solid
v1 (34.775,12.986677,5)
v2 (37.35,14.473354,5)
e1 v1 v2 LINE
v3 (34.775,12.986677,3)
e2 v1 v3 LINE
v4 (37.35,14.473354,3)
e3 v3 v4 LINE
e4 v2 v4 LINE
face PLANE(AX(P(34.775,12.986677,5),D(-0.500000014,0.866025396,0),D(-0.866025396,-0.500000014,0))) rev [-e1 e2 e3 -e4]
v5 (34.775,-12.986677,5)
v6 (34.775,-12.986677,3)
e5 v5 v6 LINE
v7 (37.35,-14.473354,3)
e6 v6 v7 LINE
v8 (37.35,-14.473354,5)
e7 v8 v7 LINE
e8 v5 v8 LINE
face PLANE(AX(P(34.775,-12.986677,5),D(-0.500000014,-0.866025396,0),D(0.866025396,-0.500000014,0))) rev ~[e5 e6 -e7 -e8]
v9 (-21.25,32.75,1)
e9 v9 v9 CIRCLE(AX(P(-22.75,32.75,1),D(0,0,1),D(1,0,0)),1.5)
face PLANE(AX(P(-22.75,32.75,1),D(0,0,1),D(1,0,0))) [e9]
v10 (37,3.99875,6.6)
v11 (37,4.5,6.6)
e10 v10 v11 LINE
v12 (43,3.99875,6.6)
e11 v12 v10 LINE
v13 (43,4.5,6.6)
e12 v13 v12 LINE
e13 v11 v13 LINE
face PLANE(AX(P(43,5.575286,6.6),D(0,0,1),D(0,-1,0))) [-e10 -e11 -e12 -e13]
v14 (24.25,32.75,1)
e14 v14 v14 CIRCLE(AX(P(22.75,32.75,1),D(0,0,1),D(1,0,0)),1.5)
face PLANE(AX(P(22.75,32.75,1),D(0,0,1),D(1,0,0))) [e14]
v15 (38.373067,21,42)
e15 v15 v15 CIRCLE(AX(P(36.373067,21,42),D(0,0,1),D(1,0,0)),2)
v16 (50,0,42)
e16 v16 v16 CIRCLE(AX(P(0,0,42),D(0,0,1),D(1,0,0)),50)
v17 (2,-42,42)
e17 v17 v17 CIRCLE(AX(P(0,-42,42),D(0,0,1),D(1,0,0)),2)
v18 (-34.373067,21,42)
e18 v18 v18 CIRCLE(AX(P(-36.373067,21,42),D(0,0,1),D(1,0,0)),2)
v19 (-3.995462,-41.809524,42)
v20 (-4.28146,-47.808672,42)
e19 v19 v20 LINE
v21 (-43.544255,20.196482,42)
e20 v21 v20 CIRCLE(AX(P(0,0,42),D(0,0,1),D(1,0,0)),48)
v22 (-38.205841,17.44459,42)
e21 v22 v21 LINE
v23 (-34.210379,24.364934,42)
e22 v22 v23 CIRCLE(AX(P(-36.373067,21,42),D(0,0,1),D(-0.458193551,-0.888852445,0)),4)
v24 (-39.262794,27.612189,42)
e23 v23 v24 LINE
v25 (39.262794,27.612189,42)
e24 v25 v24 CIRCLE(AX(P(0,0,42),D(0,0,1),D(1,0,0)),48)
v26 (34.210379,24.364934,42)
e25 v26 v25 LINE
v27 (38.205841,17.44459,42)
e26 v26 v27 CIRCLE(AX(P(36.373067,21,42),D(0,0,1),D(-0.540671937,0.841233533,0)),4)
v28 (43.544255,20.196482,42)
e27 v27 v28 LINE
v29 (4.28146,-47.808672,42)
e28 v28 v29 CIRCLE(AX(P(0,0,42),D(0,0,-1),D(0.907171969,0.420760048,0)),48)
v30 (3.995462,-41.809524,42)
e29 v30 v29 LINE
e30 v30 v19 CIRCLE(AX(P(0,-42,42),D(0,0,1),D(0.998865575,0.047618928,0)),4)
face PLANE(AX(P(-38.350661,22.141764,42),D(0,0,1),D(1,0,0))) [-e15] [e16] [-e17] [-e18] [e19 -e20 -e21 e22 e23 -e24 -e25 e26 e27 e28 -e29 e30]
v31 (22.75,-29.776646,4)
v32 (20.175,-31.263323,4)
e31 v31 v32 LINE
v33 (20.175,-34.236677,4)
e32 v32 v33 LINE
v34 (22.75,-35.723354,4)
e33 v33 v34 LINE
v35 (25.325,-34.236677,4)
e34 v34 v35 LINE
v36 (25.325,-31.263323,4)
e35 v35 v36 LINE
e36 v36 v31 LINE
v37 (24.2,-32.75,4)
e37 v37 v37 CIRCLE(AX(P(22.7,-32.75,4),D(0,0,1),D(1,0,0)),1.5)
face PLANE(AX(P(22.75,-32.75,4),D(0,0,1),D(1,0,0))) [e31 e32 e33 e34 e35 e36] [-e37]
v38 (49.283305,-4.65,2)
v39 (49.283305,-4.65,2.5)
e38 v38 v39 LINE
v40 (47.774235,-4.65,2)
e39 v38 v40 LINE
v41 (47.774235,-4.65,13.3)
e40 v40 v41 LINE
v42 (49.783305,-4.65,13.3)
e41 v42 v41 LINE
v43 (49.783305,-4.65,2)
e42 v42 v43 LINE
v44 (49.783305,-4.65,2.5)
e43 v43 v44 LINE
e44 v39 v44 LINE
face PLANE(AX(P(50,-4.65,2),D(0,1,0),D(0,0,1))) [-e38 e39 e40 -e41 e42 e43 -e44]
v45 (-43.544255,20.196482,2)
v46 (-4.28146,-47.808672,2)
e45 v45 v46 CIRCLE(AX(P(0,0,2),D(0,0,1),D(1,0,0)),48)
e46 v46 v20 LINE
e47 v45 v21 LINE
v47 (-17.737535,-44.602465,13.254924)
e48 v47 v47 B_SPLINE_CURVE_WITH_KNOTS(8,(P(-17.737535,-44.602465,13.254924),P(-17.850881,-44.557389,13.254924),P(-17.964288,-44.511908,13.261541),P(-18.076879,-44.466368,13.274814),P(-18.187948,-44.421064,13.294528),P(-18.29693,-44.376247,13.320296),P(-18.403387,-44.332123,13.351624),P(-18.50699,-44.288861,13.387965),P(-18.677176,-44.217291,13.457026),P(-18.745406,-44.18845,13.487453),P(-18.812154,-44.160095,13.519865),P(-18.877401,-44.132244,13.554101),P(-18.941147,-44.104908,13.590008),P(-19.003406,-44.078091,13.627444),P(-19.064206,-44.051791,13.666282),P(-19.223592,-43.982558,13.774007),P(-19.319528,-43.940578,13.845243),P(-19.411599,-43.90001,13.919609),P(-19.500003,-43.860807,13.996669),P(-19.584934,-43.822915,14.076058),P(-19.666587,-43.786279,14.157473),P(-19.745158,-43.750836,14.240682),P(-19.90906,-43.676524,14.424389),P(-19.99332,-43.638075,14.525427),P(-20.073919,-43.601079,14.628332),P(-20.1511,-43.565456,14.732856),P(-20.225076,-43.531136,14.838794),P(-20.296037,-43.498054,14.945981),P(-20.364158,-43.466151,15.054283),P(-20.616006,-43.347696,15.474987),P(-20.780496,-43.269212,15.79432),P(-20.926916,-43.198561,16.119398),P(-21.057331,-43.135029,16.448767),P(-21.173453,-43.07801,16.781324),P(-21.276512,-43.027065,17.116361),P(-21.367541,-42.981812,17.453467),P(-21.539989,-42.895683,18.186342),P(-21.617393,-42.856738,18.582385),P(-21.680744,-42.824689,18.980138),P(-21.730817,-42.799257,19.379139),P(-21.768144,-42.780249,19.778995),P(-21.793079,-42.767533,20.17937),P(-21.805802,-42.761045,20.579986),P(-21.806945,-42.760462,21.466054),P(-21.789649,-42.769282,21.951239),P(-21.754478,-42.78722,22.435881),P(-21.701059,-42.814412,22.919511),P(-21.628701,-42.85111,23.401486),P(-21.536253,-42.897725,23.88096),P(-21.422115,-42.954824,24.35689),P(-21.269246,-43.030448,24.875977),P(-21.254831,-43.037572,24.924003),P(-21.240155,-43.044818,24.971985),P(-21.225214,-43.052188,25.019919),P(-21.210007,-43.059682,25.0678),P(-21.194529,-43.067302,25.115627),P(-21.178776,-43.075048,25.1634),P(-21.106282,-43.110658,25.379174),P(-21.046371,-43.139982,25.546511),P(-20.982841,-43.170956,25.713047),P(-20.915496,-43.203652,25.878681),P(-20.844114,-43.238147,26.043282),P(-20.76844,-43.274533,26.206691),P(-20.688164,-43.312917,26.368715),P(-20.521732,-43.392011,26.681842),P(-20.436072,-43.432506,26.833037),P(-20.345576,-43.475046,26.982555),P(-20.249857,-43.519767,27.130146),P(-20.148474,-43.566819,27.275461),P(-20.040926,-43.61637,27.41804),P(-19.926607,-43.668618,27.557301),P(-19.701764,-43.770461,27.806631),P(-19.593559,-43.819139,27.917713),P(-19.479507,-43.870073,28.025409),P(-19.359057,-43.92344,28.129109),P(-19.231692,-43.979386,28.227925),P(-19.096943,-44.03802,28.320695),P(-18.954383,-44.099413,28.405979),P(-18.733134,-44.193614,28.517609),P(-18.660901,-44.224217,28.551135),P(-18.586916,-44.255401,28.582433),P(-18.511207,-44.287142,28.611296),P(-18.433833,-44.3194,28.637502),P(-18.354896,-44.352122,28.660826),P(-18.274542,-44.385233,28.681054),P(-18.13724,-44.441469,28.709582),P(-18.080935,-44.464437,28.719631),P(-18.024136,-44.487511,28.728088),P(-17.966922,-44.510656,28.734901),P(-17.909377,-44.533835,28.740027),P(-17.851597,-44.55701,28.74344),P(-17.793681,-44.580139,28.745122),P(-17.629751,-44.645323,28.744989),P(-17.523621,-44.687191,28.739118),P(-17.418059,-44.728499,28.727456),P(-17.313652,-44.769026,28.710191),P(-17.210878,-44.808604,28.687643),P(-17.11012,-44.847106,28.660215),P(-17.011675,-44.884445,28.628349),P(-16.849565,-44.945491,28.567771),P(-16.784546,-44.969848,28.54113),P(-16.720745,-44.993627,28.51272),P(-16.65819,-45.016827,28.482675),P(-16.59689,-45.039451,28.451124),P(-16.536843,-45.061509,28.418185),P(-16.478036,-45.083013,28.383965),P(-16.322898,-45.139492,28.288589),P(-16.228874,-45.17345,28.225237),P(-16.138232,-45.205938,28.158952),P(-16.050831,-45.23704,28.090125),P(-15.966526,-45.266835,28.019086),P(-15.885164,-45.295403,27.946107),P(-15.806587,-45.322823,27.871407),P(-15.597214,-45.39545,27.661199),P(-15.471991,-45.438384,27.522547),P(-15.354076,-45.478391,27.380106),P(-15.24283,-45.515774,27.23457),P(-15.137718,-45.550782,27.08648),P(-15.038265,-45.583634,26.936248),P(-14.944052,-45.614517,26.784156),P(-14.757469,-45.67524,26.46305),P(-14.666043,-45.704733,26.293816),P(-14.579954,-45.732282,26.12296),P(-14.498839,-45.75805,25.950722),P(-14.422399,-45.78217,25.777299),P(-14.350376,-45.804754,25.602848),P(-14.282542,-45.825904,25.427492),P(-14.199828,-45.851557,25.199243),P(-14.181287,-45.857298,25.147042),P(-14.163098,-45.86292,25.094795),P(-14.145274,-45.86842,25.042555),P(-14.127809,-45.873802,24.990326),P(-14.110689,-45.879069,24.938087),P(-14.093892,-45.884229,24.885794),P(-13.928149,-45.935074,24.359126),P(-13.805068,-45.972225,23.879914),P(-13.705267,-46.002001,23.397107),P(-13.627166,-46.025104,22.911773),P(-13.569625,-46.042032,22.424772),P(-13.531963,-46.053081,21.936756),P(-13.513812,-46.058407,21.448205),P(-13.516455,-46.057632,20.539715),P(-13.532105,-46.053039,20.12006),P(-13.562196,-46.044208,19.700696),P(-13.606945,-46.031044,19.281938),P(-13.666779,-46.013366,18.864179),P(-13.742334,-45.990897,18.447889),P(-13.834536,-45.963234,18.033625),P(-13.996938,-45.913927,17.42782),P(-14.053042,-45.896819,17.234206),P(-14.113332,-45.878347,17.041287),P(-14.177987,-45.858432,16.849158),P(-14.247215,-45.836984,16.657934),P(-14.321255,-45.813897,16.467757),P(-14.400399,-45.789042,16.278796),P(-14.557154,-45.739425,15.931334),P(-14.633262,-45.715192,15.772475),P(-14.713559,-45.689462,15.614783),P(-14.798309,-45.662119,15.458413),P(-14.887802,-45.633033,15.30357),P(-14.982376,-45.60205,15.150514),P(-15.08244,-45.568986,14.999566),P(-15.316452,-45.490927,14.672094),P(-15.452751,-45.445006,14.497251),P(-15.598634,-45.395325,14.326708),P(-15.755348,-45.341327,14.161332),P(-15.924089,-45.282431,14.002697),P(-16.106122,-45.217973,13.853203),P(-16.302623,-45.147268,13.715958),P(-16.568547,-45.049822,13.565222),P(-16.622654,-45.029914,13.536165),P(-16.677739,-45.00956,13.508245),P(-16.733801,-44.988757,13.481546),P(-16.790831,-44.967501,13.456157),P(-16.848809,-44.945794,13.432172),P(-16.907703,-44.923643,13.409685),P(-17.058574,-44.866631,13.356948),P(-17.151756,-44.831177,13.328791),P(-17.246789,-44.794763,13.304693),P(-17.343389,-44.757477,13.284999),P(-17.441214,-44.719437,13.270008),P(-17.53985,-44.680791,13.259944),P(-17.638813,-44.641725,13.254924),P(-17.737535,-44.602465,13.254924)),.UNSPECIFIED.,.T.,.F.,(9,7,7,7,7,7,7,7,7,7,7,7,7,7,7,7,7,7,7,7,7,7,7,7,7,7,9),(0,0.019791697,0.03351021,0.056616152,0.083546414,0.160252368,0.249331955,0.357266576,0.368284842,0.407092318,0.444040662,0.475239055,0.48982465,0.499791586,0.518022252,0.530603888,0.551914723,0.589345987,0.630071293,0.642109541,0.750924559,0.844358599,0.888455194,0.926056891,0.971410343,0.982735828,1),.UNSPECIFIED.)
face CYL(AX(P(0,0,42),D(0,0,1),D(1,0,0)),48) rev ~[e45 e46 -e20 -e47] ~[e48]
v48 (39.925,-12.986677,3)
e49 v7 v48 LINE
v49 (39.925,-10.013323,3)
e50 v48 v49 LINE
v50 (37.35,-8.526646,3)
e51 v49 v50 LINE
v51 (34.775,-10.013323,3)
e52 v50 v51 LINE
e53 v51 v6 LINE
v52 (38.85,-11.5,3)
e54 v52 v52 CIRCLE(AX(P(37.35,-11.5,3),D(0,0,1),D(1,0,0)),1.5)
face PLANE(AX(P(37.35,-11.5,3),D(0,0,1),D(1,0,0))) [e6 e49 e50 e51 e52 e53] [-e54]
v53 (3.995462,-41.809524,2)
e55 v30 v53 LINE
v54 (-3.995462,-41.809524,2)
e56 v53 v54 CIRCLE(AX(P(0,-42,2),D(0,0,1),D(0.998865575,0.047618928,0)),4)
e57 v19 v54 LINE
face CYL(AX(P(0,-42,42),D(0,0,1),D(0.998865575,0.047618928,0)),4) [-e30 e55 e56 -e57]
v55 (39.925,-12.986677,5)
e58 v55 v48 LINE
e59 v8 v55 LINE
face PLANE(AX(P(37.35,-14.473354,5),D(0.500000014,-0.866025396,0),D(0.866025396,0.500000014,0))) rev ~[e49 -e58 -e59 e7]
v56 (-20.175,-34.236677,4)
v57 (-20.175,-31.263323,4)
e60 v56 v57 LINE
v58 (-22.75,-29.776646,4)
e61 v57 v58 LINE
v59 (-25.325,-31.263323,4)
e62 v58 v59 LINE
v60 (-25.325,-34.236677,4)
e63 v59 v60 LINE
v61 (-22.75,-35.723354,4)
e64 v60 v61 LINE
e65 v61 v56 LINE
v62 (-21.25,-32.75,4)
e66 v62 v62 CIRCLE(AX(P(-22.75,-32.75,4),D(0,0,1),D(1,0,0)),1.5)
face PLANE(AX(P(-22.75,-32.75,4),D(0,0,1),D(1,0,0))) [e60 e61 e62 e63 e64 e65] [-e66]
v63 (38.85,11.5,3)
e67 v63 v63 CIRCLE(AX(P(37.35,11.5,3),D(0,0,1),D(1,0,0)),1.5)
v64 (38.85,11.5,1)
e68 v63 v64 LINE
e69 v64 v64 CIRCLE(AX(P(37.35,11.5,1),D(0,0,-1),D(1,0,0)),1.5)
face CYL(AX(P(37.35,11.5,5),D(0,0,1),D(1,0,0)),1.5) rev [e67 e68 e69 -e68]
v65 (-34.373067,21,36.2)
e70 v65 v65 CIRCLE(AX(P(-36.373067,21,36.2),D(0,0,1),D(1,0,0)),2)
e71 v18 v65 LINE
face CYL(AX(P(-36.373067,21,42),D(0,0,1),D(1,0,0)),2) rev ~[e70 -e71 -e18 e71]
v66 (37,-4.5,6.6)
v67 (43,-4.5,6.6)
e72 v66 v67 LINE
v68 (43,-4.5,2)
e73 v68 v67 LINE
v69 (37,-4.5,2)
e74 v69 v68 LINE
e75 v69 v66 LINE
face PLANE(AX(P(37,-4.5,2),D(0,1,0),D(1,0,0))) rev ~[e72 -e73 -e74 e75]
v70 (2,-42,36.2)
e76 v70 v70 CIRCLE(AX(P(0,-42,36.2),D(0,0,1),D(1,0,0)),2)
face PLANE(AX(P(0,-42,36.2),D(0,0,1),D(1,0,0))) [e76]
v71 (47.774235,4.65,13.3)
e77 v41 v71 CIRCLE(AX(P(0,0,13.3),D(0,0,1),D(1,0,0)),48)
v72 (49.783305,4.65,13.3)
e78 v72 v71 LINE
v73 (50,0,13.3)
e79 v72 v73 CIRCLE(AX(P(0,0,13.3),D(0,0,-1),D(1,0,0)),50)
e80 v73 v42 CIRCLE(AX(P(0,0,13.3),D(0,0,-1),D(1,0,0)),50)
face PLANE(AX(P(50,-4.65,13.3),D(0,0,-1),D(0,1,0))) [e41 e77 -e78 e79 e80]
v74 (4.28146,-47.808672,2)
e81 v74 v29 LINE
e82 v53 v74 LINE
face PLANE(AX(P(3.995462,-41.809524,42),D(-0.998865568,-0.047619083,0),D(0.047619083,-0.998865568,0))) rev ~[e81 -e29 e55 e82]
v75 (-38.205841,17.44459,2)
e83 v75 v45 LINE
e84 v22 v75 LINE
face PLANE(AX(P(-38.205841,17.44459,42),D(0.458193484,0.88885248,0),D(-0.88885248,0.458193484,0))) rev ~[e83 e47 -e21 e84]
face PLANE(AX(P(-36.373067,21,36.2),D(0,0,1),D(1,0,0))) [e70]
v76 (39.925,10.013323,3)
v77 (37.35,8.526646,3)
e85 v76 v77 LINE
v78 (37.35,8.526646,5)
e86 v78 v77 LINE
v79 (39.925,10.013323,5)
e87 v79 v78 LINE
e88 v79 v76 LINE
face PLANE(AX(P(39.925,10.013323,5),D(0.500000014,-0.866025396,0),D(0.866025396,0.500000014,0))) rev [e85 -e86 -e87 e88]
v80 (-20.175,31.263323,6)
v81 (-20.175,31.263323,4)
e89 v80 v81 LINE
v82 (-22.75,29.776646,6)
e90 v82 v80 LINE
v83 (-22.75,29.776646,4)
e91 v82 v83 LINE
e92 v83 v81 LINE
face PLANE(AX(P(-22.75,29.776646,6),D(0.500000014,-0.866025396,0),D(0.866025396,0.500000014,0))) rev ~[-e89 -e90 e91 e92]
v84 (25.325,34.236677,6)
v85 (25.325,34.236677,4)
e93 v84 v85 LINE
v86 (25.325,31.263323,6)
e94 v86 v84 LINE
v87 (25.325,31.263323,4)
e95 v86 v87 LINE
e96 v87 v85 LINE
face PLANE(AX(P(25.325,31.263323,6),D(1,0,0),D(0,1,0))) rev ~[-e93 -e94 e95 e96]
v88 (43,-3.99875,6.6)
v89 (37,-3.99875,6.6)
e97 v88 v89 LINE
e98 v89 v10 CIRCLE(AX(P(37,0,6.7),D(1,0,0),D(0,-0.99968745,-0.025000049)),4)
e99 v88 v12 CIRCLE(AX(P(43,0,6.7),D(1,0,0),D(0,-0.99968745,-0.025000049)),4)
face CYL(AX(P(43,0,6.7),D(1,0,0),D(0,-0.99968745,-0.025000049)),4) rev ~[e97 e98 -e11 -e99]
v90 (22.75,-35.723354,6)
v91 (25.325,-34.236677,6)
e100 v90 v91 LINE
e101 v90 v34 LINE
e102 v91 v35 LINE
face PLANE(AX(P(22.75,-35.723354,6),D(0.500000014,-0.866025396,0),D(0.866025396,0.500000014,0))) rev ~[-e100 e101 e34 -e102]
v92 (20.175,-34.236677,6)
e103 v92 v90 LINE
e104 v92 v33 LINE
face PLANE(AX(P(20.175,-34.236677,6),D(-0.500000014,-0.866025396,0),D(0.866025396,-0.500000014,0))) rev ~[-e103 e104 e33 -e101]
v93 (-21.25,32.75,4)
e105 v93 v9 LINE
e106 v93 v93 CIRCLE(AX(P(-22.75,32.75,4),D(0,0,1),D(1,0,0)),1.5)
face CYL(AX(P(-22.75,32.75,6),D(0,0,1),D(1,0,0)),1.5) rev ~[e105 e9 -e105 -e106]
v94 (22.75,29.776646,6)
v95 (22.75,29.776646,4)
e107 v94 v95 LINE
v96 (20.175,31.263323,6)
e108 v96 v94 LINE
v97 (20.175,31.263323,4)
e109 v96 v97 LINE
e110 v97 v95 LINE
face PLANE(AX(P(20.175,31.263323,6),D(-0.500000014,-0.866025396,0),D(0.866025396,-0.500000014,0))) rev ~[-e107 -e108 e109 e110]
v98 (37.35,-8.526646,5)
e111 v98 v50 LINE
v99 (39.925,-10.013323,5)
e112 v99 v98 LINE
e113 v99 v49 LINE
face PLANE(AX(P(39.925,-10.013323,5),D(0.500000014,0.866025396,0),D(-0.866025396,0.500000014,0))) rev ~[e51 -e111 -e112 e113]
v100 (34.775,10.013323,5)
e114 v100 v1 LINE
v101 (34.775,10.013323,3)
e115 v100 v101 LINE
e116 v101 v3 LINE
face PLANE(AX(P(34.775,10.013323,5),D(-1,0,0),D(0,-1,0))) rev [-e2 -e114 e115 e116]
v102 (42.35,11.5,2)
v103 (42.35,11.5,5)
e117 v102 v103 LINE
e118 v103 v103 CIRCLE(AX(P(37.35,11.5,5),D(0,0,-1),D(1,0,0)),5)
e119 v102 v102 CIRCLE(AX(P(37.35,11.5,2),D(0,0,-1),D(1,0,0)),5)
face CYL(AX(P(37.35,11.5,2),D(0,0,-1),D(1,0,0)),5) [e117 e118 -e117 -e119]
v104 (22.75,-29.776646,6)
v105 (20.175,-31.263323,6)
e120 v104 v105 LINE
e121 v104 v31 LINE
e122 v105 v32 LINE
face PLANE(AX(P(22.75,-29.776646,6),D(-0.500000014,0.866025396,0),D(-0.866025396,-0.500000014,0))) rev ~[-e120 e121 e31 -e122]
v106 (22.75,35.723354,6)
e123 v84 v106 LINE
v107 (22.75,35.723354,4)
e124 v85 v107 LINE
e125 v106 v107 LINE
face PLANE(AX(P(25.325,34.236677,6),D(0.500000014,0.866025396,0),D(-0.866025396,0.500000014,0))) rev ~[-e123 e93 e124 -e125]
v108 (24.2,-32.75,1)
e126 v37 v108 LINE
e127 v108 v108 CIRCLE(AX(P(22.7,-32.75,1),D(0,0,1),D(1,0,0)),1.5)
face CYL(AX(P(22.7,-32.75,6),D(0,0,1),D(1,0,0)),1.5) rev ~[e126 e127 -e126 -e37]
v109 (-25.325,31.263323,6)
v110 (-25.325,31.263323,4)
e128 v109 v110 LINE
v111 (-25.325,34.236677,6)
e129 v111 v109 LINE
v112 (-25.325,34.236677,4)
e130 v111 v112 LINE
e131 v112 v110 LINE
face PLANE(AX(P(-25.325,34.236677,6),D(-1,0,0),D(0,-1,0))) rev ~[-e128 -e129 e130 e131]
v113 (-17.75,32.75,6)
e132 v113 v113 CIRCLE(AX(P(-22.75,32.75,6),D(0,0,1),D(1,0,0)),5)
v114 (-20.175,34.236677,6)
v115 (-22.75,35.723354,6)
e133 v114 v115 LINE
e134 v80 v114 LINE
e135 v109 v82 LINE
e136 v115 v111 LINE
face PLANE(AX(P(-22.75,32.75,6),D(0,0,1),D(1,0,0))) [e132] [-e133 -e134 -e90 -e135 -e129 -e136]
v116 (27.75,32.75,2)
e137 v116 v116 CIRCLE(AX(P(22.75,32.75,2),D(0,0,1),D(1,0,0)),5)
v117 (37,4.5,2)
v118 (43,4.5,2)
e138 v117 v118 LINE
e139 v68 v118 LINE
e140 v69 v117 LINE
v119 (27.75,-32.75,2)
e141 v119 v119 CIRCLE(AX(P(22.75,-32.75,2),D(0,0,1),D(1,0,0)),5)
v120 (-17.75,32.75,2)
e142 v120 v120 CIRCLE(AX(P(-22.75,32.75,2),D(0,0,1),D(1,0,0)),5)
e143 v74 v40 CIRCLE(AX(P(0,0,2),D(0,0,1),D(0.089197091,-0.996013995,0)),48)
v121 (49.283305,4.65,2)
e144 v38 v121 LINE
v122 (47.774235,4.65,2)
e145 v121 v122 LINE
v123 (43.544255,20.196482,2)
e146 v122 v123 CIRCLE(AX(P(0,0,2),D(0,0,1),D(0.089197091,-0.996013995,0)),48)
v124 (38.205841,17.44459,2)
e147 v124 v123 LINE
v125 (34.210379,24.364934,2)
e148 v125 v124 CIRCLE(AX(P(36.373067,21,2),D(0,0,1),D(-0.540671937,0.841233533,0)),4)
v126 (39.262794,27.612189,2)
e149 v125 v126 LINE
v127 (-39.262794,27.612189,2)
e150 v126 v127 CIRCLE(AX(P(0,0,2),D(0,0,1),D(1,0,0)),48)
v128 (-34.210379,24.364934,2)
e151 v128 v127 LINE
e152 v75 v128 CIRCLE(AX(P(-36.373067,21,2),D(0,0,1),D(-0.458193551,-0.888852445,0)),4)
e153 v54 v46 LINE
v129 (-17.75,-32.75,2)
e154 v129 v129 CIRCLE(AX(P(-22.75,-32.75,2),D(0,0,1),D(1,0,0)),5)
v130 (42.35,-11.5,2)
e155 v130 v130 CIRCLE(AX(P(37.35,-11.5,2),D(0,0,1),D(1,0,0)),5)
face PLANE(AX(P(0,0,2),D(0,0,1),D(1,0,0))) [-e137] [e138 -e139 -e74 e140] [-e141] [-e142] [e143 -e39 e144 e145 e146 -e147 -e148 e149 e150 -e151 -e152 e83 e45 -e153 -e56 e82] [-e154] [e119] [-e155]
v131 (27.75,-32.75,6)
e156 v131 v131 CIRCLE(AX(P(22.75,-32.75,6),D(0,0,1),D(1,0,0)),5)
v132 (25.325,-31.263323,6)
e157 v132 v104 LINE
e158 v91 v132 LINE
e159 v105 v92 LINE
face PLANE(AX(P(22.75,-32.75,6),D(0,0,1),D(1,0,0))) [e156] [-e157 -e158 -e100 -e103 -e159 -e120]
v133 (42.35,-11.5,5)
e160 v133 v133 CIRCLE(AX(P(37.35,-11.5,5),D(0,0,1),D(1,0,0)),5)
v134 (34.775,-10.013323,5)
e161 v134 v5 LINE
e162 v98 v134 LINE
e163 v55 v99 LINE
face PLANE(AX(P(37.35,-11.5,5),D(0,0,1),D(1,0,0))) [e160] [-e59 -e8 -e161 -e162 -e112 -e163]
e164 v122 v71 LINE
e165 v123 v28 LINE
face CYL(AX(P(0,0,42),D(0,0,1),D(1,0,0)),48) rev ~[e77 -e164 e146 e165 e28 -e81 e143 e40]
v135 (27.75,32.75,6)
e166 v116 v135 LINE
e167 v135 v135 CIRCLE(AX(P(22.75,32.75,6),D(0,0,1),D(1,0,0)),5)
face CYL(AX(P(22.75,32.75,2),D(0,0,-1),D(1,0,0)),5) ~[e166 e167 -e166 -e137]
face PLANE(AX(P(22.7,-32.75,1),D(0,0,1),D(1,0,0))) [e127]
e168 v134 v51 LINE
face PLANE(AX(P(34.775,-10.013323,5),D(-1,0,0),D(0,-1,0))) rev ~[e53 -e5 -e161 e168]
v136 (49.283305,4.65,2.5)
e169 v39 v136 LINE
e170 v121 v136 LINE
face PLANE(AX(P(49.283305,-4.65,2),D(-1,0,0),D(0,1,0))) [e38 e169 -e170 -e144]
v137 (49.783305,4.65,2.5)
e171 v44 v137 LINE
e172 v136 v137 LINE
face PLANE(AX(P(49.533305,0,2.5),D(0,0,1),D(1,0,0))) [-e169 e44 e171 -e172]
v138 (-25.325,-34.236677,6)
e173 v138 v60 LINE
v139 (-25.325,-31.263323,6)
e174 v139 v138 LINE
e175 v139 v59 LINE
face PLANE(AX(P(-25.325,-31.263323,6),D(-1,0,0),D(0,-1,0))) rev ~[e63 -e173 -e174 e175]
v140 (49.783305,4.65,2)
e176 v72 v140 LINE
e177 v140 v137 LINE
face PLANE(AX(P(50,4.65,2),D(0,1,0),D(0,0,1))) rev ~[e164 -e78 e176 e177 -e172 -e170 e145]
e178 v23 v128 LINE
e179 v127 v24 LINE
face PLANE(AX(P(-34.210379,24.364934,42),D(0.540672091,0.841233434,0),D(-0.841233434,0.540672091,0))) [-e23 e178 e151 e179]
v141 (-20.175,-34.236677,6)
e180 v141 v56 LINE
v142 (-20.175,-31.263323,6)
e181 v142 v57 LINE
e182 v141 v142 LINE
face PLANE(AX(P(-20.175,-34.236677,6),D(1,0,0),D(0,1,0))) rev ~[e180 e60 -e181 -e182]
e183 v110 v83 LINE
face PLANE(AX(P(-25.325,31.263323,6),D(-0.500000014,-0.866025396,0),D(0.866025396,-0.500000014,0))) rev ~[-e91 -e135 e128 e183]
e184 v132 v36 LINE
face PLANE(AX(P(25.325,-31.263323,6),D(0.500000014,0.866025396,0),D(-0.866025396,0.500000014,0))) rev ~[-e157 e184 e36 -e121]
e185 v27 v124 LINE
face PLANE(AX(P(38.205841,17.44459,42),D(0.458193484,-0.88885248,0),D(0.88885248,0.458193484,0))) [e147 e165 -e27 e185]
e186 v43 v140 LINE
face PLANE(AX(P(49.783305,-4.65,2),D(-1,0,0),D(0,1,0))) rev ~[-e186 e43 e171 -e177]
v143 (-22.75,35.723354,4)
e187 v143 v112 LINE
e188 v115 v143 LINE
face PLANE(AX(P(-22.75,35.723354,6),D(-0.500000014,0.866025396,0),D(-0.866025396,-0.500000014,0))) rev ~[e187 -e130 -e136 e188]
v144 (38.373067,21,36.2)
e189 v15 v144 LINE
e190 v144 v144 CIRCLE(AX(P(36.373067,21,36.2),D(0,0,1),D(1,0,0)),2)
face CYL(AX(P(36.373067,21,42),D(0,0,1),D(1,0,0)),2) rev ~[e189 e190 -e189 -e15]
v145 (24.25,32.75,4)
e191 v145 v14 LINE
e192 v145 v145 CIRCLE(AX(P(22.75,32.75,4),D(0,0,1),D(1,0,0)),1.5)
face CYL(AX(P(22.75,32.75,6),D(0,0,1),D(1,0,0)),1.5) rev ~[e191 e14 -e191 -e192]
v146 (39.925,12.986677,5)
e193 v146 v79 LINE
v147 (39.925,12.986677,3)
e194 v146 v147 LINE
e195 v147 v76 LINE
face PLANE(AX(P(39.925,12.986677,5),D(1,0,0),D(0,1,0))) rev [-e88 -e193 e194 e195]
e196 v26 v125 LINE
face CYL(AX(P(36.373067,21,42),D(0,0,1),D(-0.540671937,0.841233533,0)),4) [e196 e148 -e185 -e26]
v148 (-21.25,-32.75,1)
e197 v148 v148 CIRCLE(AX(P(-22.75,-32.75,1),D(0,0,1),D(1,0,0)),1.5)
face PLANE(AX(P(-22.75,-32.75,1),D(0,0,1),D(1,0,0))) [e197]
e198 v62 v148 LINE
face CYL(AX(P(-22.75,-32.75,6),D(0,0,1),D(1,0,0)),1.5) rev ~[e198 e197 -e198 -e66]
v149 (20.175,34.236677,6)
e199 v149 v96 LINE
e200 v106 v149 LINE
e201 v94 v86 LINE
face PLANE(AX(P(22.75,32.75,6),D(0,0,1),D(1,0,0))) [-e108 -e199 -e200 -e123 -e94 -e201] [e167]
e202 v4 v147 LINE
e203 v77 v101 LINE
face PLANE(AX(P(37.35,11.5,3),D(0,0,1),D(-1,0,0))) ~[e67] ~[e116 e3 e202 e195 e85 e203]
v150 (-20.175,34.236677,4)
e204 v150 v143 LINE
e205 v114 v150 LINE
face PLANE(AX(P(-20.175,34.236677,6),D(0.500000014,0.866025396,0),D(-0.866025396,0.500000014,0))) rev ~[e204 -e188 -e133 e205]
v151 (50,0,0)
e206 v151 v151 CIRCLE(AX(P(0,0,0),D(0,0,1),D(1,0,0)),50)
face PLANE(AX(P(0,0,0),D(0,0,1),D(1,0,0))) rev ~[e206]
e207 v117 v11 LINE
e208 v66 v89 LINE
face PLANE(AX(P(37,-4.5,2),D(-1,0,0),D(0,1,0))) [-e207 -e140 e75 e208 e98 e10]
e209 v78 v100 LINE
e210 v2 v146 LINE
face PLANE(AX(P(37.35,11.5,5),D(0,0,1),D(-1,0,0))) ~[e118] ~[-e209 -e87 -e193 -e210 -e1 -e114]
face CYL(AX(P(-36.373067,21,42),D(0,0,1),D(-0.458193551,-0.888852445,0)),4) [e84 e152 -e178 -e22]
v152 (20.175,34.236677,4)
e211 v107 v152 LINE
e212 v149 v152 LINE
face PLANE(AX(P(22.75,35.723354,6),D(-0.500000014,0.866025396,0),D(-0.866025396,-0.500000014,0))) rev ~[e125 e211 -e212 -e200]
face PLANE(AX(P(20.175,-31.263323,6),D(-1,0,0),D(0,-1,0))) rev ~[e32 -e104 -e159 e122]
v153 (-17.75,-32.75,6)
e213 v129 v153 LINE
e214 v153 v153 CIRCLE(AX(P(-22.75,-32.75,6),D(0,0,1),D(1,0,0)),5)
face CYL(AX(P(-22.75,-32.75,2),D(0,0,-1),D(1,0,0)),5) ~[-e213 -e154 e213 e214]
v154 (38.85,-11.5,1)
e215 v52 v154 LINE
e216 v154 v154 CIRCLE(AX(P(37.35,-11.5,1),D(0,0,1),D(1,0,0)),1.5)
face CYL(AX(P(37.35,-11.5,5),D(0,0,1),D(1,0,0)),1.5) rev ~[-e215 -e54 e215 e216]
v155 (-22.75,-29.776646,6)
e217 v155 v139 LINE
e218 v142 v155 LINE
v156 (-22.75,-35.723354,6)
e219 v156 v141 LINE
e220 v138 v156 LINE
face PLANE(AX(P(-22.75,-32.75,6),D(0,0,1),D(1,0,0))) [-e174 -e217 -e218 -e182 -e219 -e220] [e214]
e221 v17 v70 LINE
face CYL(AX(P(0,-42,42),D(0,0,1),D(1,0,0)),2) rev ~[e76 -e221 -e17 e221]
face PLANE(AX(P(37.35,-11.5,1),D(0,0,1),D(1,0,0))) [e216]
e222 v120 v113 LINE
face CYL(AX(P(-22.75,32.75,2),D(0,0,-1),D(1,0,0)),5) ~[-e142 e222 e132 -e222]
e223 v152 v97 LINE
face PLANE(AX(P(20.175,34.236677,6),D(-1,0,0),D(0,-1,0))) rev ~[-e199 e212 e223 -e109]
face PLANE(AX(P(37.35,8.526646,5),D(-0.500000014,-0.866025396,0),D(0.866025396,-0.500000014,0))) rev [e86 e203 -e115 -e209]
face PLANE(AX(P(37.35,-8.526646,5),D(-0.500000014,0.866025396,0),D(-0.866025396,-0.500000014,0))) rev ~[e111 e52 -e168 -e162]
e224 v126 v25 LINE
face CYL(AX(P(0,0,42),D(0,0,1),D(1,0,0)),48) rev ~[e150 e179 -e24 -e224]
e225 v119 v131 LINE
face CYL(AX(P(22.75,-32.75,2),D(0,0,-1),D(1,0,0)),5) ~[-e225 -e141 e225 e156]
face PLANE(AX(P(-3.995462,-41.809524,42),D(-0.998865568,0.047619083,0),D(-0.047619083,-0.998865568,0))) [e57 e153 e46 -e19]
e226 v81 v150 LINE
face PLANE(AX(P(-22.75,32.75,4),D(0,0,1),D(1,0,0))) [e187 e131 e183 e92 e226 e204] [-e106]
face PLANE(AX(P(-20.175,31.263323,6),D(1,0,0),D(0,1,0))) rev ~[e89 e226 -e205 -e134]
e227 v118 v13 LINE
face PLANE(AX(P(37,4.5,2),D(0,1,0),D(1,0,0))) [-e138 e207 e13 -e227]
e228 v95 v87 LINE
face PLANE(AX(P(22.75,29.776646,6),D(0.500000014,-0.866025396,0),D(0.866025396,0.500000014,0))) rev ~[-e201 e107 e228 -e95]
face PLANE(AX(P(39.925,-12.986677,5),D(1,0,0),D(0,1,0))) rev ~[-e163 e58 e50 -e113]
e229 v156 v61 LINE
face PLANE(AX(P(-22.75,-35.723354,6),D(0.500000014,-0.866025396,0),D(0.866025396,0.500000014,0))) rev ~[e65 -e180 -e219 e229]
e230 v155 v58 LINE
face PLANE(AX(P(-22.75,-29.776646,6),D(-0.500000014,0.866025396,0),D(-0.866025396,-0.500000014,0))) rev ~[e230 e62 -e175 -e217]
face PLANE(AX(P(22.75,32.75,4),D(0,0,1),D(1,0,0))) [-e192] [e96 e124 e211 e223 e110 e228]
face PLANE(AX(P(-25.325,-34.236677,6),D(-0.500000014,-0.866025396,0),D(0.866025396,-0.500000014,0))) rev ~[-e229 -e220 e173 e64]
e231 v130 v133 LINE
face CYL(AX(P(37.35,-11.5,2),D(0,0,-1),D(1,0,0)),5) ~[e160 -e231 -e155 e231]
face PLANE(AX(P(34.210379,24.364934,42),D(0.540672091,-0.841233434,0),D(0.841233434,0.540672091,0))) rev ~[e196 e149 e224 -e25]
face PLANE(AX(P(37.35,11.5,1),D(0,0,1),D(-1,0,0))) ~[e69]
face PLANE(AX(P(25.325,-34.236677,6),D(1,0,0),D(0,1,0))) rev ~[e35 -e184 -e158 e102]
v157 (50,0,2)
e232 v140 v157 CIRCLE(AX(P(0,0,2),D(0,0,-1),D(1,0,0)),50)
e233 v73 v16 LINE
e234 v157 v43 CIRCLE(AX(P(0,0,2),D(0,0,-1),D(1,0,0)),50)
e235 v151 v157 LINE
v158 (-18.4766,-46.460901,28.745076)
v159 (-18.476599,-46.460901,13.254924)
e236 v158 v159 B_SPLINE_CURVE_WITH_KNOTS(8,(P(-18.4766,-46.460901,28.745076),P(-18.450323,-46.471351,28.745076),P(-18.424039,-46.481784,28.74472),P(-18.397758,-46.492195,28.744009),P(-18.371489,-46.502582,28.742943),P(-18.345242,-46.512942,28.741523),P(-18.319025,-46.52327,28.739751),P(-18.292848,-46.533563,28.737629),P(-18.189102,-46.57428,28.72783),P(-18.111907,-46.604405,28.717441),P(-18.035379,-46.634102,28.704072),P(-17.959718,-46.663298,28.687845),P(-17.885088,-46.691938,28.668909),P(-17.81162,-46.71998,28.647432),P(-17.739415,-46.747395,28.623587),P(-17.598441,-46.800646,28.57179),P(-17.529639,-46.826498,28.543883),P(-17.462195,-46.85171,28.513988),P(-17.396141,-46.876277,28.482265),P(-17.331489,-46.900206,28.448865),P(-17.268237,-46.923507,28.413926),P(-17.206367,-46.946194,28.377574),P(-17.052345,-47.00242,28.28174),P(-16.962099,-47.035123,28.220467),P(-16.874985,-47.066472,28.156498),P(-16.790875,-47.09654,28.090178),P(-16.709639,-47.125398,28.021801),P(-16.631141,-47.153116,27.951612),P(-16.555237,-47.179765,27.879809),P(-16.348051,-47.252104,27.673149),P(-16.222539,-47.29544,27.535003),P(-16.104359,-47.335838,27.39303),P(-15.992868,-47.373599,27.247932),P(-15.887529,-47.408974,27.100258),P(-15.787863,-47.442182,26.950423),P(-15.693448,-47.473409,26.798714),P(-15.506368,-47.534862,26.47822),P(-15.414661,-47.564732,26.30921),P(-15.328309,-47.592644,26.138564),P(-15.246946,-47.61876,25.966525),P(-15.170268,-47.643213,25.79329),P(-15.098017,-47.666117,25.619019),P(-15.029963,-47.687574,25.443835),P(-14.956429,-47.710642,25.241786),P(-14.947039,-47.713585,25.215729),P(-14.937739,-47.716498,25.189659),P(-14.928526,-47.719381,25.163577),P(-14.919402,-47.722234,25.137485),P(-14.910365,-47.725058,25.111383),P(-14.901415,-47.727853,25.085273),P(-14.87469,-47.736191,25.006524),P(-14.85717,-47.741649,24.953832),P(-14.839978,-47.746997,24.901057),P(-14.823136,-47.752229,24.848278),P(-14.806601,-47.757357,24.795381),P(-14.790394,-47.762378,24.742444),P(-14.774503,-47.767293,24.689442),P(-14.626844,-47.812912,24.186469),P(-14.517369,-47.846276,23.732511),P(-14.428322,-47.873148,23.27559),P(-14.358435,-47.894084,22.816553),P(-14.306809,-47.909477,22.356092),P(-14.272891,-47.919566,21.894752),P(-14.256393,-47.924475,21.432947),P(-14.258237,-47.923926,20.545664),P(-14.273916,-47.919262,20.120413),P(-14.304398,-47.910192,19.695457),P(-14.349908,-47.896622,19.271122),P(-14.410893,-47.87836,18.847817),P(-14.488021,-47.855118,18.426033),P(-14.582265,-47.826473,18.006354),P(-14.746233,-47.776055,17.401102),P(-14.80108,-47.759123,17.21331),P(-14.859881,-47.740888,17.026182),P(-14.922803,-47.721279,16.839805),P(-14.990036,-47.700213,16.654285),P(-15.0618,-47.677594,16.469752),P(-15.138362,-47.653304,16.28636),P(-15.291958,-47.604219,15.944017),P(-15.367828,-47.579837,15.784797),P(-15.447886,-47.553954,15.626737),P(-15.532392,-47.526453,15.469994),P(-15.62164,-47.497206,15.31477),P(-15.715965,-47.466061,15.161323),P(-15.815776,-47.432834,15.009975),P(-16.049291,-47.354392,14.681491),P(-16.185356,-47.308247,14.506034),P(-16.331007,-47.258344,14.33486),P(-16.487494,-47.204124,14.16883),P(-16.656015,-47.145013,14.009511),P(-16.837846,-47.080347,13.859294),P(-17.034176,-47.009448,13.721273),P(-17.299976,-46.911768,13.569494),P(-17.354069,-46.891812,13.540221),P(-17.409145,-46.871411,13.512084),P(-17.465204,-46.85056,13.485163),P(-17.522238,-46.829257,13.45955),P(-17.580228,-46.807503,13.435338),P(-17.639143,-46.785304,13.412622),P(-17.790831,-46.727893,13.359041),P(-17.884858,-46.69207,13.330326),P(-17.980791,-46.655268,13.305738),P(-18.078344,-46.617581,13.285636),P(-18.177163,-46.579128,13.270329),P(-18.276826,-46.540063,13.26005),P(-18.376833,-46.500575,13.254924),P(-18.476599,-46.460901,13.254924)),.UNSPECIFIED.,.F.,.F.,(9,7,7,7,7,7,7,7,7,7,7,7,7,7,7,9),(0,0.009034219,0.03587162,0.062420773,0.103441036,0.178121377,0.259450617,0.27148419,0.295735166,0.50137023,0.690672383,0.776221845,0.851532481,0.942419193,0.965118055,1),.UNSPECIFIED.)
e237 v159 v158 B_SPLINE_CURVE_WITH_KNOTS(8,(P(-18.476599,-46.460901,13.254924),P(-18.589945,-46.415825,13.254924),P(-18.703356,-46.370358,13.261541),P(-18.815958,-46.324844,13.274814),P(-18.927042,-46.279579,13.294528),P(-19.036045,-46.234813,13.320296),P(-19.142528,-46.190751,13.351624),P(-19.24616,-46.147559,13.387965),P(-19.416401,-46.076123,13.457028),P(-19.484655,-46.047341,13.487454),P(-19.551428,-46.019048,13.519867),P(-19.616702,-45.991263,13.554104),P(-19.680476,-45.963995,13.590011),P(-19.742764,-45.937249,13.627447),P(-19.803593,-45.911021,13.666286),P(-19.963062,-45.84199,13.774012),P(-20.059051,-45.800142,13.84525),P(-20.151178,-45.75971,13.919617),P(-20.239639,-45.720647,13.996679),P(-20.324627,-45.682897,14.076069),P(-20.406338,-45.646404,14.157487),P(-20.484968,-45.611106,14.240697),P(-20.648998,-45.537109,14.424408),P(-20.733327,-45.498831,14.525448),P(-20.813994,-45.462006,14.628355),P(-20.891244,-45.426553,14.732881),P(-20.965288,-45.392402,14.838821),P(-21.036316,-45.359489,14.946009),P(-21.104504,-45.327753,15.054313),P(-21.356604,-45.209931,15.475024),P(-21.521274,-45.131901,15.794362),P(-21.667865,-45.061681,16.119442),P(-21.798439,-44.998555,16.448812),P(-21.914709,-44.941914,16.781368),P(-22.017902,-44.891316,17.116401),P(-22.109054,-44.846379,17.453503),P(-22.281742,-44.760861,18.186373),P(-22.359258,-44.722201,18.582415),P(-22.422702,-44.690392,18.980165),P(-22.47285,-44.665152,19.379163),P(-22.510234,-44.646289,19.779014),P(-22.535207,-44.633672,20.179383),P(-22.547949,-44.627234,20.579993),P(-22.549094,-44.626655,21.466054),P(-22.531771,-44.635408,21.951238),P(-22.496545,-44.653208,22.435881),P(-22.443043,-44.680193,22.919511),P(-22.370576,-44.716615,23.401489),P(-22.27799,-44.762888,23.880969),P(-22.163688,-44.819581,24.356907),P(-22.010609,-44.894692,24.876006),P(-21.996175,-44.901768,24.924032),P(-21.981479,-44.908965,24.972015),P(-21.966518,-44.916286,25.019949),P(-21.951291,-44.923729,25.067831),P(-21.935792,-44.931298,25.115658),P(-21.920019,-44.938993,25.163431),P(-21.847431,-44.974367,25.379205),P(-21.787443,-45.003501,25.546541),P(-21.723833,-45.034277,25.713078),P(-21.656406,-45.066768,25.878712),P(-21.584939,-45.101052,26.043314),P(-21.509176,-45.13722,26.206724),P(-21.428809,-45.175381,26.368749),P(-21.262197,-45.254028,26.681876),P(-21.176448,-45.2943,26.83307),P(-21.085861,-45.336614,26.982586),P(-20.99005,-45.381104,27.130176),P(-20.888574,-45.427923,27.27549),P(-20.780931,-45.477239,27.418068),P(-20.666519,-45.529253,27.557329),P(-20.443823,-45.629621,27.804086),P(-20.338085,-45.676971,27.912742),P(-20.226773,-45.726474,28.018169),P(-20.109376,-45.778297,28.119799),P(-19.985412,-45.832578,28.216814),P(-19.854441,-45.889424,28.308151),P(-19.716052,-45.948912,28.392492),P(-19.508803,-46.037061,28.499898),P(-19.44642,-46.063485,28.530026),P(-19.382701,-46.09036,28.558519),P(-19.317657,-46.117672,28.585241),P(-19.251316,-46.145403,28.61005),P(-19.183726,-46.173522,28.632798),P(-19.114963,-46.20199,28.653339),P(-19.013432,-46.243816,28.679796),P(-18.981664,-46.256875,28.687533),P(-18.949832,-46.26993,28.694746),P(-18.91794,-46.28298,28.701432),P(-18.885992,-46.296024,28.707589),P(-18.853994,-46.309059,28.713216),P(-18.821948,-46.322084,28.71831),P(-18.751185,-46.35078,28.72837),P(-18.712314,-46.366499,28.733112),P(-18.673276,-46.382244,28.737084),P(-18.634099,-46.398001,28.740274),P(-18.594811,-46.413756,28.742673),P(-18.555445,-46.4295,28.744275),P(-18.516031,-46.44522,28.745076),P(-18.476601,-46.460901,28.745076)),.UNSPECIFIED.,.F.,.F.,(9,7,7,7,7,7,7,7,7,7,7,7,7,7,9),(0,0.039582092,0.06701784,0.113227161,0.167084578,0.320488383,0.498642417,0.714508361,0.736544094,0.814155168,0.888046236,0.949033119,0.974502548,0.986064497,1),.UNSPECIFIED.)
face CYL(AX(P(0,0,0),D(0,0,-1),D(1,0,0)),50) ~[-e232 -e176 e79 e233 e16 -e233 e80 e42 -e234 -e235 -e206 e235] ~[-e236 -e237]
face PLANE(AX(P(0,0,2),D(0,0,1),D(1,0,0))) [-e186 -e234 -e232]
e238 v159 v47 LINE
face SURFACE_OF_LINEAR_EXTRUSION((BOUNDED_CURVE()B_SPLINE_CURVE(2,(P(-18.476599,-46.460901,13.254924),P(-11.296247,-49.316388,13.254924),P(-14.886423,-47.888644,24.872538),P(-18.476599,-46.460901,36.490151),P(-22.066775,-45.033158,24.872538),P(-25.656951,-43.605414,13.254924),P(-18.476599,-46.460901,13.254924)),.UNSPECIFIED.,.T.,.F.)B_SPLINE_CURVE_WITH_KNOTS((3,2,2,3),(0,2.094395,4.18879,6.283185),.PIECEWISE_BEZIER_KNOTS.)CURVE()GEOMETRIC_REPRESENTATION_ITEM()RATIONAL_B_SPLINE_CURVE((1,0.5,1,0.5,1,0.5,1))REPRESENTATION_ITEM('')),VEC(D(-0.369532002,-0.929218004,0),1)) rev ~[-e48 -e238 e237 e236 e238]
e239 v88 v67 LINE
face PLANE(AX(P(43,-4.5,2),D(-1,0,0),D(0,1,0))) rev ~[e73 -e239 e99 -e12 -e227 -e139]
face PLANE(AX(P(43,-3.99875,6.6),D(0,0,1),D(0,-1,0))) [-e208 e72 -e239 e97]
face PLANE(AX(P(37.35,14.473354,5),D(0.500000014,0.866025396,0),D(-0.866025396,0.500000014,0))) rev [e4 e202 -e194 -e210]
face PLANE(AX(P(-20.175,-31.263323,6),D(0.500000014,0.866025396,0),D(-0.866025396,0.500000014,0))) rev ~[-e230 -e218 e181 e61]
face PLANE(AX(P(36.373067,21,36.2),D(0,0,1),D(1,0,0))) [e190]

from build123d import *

# Parameters (mm, degrees)
SKETCH_R        = 50
PAD_DEPTH       = 42
SKETCH001_R     = 48
POCKET_DEPTH    = 40
PAD001_DEPTH    = 40
SKETCH005_W     = 9.3
SKETCH005_H     = 11.3
POCKET001_DEPTH = 10
SKETCH006_W     = 6
SKETCH006_H     = 9
PAD004_DEPTH    = 10
POCKET002_DEPTH = 8
SKETCH009_R     = 5
PAD006_DEPTH    = 4
SKETCH011_W     = 0.5
SKETCH011_H     = 9.3
PAD007_DEPTH    = 0.5
SKETCH012_R     = 5
PAD008_DEPTH    = 3
POCKET004_DEPTH = 2
SKETCH014_R     = 1.5
POCKET005_DEPTH = 4
POCKET006_DEPTH = 2
SKETCH015_R     = 1.5
POCKET007_DEPTH = 5
SKETCH016_R     = 2
POCKET008_DEPTH = 5.8
POCKET009_DEPTH = 5


with BuildPart() as part:
    # Sketch → Pad (new body)
    with BuildSketch(Plane.XY):
        Circle(SKETCH_R)
    extrude(amount=PAD_DEPTH)

    # Sketch001 (on DatumPlane) → Pocket (cut)
    with BuildSketch(Plane.XY.offset(42)):
        Circle(SKETCH001_R)
    extrude(amount=-POCKET_DEPTH, mode=Mode.SUBTRACT)

    # Sketch002 (on DatumPlane) → Pad001 (join)
    with BuildSketch(Plane.XY.offset(42)):
        with BuildLine():
            ThreePointArc((-38.205841, 17.44459), (-32.908965, 19), (-34.210379, 24.364934))
            Line((-34.210379, 24.364934), (-40.104744, 28.153322))
            ThreePointArc((-40.104744, 28.153322), (-42.435245, 24.5), (-44.433864, 20.655066))
            Line((-38.205841, 17.44459), (-44.433864, 20.655066))
        make_face()
        with BuildLine():
            ThreePointArc((3.995462, -41.809524), (0, -38), (-3.995462, -41.809524))
            Line((-3.995462, -41.809524), (-4.32912, -48.808388))
            ThreePointArc((-4.32912, -48.808388), (0, -49), (4.32912, -48.808388))
            Line((3.995462, -41.809524), (4.32912, -48.808388))
        make_face()
        with BuildLine():
            ThreePointArc((34.210379, 24.364934), (32.908965, 19), (38.205841, 17.44459))
            Line((38.205841, 17.44459), (44.433864, 20.655066))
            ThreePointArc((44.433864, 20.655066), (42.435245, 24.5), (40.104744, 28.153322))
            Line((34.210379, 24.364934), (40.104744, 28.153322))
        make_face()
    extrude(amount=-PAD001_DEPTH)

    # Sketch005 (on DatumPlane) → Pocket001 (cut)
    with BuildSketch(Plane.YZ.offset(50)):
        with Locations((0, 7.65)):
            Rectangle(SKETCH005_W, SKETCH005_H)
    extrude(amount=-POCKET001_DEPTH, mode=Mode.SUBTRACT)

    # Sketch006 (on DatumPlane) → Pad004 (join)
    with BuildSketch(Plane.XY.offset(2)):
        with Locations((40, 0)):
            Rectangle(SKETCH006_W, SKETCH006_H)
    extrude(amount=PAD004_DEPTH)

    # Sketch007 (on Face18 of Pad004) → Pocket002 (cut)
    with BuildSketch(Plane.YZ.offset(43)):
        with BuildLine():
            ThreePointArc((-3.99875, 6.6), (0, 2.7), (3.99875, 6.6))
            Line((5.575286, 6.6), (3.99875, 6.6))
            Line((5.575286, 15.969053), (5.575286, 6.6))
            Line((-6.906295, 15.969053), (5.575286, 15.969053))
            Line((-6.906295, 6.6), (-6.906295, 15.969053))
            Line((-3.99875, 6.6), (-6.906295, 6.6))
        make_face()
    extrude(amount=-POCKET002_DEPTH, mode=Mode.SUBTRACT)

    # Sketch009 (on DatumPlane) → Pad006 (join)
    with BuildSketch(Plane.XY.offset(2)):
        with Locations((-22.75, 32.75)):
            Circle(SKETCH009_R)
        with Locations((22.75, 32.75)):
            Circle(SKETCH009_R)
        with Locations((22.75, -32.75)):
            Circle(SKETCH009_R)
        with Locations((-22.75, -32.75)):
            Circle(SKETCH009_R)
    extrude(amount=PAD006_DEPTH)

    # Sketch011 (on DatumPlane) → Pad007 (join)
    with BuildSketch(Plane.XY.offset(2)):
        with Locations((49.533305, 0)):
            Rectangle(SKETCH011_W, SKETCH011_H)
    extrude(amount=PAD007_DEPTH)

    # Sketch012 (on DatumPlane) → Pad008 (join)
    with BuildSketch(Plane.XY.offset(2)):
        with Locations((37.35, -11.5)):
            Circle(SKETCH012_R)
    pad008 = extrude(amount=PAD008_DEPTH)

    # Sketch013 (on Face47 of Pad008) → Pocket004 (cut)
    with BuildSketch(Plane.XY.offset(5)):
        Polygon((39.925, -12.986677), (39.925, -10.013323), (37.35, -8.526646), (34.775, -10.013323), (34.775, -12.986677), (37.35, -14.473354), align=None)
    pocket004 = extrude(amount=-POCKET004_DEPTH, mode=Mode.SUBTRACT)

    # Sketch014 (on Face47 of Pocket004) → Pocket005 (cut)
    with BuildSketch(Plane.XY.offset(5)):
        with Locations((37.35, -11.5)):
            Circle(SKETCH014_R)
    pocket005 = extrude(amount=-POCKET005_DEPTH, mode=Mode.SUBTRACT)

    # Sketch010 (on DatumPlane) → Pocket006 (cut)
    with BuildSketch(Plane.XY.offset(6)):
        Polygon((-20.175, 31.263323), (-20.175, 34.236677), (-22.75, 35.723354), (-25.325, 34.236677), (-25.325, 31.263323), (-22.75, 29.776646), align=None)
        Polygon((25.325, -34.236677), (25.325, -31.263323), (22.75, -29.776646), (20.175, -31.263323), (20.175, -34.236677), (22.75, -35.723354), align=None)
        Polygon((22.75, 35.723354), (20.175, 34.236677), (20.175, 31.263323), (22.75, 29.776646), (25.325, 31.263323), (25.325, 34.236677), align=None)
        Polygon((-20.175, -31.263323), (-22.75, -29.776646), (-25.325, -31.263323), (-25.325, -34.236677), (-22.75, -35.723354), (-20.175, -34.236677), align=None)
    extrude(amount=-POCKET006_DEPTH, mode=Mode.SUBTRACT)

    # Sketch015 (on DatumPlane) → Pocket007 (cut)
    with BuildSketch(Plane.XY.offset(6)):
        with Locations((-22.75, 32.75)):
            Circle(SKETCH015_R)
        with Locations((22.75, 32.75)):
            Circle(SKETCH015_R)
        with Locations((22.7, -32.75)):
            Circle(SKETCH015_R)
        with Locations((-22.75, -32.75)):
            Circle(SKETCH015_R)
    extrude(amount=-POCKET007_DEPTH, mode=Mode.SUBTRACT)

    # Sketch016 (on DatumPlane) → Pocket008 (cut)
    with BuildSketch(Plane.XY.offset(42)):
        with Locations((-36.373067, 21)):
            Circle(SKETCH016_R)
        with Locations((36.373067, 21)):
            Circle(SKETCH016_R)
        with Locations((0, -42)):
            Circle(SKETCH016_R)
    extrude(amount=-POCKET008_DEPTH, mode=Mode.SUBTRACT)

    # Mirrored: Pad008, Pocket004, Pocket005 across Sketch012 H_Axis
    add(pad008.mirror(Plane(origin=(0, 0, 2), x_dir=(0, 0, 1), z_dir=(0, 1, 0))))
    add(pocket004.mirror(Plane(origin=(0, 0, 2), x_dir=(0, 0, 1), z_dir=(0, 1, 0))), mode=Mode.SUBTRACT)
    add(pocket005.mirror(Plane(origin=(0, 0, 2), x_dir=(0, 0, 1), z_dir=(0, 1, 0))), mode=Mode.SUBTRACT)

    # Sketch018 (on DatumPlane) → Pocket009 (cut)
    with BuildSketch(Plane(origin=(-18.476599, -46.460901, 42), x_dir=(0.929218, -0.369532, 0), z_dir=(-0.369532, -0.929218, 0))):
        with BuildLine():
            add(Edge.make_bspline(
                [(0, -28.745076), (7.727306, -28.745076), (3.863653, -17.127462), (0, -5.509849), (-3.863653, -17.127462), (-7.727306, -28.745076), (0, -28.745076)],
                knots=[0, 0, 0, 2.094395, 2.094395, 4.18879, 4.18879, 6.283185, 6.283185, 6.283185], degree=2, weights=[1, 0.5, 1, 0.5, 1, 0.5, 1]))
        make_face()
    extrude(amount=-POCKET009_DEPTH, mode=Mode.SUBTRACT)


solid = part.part
